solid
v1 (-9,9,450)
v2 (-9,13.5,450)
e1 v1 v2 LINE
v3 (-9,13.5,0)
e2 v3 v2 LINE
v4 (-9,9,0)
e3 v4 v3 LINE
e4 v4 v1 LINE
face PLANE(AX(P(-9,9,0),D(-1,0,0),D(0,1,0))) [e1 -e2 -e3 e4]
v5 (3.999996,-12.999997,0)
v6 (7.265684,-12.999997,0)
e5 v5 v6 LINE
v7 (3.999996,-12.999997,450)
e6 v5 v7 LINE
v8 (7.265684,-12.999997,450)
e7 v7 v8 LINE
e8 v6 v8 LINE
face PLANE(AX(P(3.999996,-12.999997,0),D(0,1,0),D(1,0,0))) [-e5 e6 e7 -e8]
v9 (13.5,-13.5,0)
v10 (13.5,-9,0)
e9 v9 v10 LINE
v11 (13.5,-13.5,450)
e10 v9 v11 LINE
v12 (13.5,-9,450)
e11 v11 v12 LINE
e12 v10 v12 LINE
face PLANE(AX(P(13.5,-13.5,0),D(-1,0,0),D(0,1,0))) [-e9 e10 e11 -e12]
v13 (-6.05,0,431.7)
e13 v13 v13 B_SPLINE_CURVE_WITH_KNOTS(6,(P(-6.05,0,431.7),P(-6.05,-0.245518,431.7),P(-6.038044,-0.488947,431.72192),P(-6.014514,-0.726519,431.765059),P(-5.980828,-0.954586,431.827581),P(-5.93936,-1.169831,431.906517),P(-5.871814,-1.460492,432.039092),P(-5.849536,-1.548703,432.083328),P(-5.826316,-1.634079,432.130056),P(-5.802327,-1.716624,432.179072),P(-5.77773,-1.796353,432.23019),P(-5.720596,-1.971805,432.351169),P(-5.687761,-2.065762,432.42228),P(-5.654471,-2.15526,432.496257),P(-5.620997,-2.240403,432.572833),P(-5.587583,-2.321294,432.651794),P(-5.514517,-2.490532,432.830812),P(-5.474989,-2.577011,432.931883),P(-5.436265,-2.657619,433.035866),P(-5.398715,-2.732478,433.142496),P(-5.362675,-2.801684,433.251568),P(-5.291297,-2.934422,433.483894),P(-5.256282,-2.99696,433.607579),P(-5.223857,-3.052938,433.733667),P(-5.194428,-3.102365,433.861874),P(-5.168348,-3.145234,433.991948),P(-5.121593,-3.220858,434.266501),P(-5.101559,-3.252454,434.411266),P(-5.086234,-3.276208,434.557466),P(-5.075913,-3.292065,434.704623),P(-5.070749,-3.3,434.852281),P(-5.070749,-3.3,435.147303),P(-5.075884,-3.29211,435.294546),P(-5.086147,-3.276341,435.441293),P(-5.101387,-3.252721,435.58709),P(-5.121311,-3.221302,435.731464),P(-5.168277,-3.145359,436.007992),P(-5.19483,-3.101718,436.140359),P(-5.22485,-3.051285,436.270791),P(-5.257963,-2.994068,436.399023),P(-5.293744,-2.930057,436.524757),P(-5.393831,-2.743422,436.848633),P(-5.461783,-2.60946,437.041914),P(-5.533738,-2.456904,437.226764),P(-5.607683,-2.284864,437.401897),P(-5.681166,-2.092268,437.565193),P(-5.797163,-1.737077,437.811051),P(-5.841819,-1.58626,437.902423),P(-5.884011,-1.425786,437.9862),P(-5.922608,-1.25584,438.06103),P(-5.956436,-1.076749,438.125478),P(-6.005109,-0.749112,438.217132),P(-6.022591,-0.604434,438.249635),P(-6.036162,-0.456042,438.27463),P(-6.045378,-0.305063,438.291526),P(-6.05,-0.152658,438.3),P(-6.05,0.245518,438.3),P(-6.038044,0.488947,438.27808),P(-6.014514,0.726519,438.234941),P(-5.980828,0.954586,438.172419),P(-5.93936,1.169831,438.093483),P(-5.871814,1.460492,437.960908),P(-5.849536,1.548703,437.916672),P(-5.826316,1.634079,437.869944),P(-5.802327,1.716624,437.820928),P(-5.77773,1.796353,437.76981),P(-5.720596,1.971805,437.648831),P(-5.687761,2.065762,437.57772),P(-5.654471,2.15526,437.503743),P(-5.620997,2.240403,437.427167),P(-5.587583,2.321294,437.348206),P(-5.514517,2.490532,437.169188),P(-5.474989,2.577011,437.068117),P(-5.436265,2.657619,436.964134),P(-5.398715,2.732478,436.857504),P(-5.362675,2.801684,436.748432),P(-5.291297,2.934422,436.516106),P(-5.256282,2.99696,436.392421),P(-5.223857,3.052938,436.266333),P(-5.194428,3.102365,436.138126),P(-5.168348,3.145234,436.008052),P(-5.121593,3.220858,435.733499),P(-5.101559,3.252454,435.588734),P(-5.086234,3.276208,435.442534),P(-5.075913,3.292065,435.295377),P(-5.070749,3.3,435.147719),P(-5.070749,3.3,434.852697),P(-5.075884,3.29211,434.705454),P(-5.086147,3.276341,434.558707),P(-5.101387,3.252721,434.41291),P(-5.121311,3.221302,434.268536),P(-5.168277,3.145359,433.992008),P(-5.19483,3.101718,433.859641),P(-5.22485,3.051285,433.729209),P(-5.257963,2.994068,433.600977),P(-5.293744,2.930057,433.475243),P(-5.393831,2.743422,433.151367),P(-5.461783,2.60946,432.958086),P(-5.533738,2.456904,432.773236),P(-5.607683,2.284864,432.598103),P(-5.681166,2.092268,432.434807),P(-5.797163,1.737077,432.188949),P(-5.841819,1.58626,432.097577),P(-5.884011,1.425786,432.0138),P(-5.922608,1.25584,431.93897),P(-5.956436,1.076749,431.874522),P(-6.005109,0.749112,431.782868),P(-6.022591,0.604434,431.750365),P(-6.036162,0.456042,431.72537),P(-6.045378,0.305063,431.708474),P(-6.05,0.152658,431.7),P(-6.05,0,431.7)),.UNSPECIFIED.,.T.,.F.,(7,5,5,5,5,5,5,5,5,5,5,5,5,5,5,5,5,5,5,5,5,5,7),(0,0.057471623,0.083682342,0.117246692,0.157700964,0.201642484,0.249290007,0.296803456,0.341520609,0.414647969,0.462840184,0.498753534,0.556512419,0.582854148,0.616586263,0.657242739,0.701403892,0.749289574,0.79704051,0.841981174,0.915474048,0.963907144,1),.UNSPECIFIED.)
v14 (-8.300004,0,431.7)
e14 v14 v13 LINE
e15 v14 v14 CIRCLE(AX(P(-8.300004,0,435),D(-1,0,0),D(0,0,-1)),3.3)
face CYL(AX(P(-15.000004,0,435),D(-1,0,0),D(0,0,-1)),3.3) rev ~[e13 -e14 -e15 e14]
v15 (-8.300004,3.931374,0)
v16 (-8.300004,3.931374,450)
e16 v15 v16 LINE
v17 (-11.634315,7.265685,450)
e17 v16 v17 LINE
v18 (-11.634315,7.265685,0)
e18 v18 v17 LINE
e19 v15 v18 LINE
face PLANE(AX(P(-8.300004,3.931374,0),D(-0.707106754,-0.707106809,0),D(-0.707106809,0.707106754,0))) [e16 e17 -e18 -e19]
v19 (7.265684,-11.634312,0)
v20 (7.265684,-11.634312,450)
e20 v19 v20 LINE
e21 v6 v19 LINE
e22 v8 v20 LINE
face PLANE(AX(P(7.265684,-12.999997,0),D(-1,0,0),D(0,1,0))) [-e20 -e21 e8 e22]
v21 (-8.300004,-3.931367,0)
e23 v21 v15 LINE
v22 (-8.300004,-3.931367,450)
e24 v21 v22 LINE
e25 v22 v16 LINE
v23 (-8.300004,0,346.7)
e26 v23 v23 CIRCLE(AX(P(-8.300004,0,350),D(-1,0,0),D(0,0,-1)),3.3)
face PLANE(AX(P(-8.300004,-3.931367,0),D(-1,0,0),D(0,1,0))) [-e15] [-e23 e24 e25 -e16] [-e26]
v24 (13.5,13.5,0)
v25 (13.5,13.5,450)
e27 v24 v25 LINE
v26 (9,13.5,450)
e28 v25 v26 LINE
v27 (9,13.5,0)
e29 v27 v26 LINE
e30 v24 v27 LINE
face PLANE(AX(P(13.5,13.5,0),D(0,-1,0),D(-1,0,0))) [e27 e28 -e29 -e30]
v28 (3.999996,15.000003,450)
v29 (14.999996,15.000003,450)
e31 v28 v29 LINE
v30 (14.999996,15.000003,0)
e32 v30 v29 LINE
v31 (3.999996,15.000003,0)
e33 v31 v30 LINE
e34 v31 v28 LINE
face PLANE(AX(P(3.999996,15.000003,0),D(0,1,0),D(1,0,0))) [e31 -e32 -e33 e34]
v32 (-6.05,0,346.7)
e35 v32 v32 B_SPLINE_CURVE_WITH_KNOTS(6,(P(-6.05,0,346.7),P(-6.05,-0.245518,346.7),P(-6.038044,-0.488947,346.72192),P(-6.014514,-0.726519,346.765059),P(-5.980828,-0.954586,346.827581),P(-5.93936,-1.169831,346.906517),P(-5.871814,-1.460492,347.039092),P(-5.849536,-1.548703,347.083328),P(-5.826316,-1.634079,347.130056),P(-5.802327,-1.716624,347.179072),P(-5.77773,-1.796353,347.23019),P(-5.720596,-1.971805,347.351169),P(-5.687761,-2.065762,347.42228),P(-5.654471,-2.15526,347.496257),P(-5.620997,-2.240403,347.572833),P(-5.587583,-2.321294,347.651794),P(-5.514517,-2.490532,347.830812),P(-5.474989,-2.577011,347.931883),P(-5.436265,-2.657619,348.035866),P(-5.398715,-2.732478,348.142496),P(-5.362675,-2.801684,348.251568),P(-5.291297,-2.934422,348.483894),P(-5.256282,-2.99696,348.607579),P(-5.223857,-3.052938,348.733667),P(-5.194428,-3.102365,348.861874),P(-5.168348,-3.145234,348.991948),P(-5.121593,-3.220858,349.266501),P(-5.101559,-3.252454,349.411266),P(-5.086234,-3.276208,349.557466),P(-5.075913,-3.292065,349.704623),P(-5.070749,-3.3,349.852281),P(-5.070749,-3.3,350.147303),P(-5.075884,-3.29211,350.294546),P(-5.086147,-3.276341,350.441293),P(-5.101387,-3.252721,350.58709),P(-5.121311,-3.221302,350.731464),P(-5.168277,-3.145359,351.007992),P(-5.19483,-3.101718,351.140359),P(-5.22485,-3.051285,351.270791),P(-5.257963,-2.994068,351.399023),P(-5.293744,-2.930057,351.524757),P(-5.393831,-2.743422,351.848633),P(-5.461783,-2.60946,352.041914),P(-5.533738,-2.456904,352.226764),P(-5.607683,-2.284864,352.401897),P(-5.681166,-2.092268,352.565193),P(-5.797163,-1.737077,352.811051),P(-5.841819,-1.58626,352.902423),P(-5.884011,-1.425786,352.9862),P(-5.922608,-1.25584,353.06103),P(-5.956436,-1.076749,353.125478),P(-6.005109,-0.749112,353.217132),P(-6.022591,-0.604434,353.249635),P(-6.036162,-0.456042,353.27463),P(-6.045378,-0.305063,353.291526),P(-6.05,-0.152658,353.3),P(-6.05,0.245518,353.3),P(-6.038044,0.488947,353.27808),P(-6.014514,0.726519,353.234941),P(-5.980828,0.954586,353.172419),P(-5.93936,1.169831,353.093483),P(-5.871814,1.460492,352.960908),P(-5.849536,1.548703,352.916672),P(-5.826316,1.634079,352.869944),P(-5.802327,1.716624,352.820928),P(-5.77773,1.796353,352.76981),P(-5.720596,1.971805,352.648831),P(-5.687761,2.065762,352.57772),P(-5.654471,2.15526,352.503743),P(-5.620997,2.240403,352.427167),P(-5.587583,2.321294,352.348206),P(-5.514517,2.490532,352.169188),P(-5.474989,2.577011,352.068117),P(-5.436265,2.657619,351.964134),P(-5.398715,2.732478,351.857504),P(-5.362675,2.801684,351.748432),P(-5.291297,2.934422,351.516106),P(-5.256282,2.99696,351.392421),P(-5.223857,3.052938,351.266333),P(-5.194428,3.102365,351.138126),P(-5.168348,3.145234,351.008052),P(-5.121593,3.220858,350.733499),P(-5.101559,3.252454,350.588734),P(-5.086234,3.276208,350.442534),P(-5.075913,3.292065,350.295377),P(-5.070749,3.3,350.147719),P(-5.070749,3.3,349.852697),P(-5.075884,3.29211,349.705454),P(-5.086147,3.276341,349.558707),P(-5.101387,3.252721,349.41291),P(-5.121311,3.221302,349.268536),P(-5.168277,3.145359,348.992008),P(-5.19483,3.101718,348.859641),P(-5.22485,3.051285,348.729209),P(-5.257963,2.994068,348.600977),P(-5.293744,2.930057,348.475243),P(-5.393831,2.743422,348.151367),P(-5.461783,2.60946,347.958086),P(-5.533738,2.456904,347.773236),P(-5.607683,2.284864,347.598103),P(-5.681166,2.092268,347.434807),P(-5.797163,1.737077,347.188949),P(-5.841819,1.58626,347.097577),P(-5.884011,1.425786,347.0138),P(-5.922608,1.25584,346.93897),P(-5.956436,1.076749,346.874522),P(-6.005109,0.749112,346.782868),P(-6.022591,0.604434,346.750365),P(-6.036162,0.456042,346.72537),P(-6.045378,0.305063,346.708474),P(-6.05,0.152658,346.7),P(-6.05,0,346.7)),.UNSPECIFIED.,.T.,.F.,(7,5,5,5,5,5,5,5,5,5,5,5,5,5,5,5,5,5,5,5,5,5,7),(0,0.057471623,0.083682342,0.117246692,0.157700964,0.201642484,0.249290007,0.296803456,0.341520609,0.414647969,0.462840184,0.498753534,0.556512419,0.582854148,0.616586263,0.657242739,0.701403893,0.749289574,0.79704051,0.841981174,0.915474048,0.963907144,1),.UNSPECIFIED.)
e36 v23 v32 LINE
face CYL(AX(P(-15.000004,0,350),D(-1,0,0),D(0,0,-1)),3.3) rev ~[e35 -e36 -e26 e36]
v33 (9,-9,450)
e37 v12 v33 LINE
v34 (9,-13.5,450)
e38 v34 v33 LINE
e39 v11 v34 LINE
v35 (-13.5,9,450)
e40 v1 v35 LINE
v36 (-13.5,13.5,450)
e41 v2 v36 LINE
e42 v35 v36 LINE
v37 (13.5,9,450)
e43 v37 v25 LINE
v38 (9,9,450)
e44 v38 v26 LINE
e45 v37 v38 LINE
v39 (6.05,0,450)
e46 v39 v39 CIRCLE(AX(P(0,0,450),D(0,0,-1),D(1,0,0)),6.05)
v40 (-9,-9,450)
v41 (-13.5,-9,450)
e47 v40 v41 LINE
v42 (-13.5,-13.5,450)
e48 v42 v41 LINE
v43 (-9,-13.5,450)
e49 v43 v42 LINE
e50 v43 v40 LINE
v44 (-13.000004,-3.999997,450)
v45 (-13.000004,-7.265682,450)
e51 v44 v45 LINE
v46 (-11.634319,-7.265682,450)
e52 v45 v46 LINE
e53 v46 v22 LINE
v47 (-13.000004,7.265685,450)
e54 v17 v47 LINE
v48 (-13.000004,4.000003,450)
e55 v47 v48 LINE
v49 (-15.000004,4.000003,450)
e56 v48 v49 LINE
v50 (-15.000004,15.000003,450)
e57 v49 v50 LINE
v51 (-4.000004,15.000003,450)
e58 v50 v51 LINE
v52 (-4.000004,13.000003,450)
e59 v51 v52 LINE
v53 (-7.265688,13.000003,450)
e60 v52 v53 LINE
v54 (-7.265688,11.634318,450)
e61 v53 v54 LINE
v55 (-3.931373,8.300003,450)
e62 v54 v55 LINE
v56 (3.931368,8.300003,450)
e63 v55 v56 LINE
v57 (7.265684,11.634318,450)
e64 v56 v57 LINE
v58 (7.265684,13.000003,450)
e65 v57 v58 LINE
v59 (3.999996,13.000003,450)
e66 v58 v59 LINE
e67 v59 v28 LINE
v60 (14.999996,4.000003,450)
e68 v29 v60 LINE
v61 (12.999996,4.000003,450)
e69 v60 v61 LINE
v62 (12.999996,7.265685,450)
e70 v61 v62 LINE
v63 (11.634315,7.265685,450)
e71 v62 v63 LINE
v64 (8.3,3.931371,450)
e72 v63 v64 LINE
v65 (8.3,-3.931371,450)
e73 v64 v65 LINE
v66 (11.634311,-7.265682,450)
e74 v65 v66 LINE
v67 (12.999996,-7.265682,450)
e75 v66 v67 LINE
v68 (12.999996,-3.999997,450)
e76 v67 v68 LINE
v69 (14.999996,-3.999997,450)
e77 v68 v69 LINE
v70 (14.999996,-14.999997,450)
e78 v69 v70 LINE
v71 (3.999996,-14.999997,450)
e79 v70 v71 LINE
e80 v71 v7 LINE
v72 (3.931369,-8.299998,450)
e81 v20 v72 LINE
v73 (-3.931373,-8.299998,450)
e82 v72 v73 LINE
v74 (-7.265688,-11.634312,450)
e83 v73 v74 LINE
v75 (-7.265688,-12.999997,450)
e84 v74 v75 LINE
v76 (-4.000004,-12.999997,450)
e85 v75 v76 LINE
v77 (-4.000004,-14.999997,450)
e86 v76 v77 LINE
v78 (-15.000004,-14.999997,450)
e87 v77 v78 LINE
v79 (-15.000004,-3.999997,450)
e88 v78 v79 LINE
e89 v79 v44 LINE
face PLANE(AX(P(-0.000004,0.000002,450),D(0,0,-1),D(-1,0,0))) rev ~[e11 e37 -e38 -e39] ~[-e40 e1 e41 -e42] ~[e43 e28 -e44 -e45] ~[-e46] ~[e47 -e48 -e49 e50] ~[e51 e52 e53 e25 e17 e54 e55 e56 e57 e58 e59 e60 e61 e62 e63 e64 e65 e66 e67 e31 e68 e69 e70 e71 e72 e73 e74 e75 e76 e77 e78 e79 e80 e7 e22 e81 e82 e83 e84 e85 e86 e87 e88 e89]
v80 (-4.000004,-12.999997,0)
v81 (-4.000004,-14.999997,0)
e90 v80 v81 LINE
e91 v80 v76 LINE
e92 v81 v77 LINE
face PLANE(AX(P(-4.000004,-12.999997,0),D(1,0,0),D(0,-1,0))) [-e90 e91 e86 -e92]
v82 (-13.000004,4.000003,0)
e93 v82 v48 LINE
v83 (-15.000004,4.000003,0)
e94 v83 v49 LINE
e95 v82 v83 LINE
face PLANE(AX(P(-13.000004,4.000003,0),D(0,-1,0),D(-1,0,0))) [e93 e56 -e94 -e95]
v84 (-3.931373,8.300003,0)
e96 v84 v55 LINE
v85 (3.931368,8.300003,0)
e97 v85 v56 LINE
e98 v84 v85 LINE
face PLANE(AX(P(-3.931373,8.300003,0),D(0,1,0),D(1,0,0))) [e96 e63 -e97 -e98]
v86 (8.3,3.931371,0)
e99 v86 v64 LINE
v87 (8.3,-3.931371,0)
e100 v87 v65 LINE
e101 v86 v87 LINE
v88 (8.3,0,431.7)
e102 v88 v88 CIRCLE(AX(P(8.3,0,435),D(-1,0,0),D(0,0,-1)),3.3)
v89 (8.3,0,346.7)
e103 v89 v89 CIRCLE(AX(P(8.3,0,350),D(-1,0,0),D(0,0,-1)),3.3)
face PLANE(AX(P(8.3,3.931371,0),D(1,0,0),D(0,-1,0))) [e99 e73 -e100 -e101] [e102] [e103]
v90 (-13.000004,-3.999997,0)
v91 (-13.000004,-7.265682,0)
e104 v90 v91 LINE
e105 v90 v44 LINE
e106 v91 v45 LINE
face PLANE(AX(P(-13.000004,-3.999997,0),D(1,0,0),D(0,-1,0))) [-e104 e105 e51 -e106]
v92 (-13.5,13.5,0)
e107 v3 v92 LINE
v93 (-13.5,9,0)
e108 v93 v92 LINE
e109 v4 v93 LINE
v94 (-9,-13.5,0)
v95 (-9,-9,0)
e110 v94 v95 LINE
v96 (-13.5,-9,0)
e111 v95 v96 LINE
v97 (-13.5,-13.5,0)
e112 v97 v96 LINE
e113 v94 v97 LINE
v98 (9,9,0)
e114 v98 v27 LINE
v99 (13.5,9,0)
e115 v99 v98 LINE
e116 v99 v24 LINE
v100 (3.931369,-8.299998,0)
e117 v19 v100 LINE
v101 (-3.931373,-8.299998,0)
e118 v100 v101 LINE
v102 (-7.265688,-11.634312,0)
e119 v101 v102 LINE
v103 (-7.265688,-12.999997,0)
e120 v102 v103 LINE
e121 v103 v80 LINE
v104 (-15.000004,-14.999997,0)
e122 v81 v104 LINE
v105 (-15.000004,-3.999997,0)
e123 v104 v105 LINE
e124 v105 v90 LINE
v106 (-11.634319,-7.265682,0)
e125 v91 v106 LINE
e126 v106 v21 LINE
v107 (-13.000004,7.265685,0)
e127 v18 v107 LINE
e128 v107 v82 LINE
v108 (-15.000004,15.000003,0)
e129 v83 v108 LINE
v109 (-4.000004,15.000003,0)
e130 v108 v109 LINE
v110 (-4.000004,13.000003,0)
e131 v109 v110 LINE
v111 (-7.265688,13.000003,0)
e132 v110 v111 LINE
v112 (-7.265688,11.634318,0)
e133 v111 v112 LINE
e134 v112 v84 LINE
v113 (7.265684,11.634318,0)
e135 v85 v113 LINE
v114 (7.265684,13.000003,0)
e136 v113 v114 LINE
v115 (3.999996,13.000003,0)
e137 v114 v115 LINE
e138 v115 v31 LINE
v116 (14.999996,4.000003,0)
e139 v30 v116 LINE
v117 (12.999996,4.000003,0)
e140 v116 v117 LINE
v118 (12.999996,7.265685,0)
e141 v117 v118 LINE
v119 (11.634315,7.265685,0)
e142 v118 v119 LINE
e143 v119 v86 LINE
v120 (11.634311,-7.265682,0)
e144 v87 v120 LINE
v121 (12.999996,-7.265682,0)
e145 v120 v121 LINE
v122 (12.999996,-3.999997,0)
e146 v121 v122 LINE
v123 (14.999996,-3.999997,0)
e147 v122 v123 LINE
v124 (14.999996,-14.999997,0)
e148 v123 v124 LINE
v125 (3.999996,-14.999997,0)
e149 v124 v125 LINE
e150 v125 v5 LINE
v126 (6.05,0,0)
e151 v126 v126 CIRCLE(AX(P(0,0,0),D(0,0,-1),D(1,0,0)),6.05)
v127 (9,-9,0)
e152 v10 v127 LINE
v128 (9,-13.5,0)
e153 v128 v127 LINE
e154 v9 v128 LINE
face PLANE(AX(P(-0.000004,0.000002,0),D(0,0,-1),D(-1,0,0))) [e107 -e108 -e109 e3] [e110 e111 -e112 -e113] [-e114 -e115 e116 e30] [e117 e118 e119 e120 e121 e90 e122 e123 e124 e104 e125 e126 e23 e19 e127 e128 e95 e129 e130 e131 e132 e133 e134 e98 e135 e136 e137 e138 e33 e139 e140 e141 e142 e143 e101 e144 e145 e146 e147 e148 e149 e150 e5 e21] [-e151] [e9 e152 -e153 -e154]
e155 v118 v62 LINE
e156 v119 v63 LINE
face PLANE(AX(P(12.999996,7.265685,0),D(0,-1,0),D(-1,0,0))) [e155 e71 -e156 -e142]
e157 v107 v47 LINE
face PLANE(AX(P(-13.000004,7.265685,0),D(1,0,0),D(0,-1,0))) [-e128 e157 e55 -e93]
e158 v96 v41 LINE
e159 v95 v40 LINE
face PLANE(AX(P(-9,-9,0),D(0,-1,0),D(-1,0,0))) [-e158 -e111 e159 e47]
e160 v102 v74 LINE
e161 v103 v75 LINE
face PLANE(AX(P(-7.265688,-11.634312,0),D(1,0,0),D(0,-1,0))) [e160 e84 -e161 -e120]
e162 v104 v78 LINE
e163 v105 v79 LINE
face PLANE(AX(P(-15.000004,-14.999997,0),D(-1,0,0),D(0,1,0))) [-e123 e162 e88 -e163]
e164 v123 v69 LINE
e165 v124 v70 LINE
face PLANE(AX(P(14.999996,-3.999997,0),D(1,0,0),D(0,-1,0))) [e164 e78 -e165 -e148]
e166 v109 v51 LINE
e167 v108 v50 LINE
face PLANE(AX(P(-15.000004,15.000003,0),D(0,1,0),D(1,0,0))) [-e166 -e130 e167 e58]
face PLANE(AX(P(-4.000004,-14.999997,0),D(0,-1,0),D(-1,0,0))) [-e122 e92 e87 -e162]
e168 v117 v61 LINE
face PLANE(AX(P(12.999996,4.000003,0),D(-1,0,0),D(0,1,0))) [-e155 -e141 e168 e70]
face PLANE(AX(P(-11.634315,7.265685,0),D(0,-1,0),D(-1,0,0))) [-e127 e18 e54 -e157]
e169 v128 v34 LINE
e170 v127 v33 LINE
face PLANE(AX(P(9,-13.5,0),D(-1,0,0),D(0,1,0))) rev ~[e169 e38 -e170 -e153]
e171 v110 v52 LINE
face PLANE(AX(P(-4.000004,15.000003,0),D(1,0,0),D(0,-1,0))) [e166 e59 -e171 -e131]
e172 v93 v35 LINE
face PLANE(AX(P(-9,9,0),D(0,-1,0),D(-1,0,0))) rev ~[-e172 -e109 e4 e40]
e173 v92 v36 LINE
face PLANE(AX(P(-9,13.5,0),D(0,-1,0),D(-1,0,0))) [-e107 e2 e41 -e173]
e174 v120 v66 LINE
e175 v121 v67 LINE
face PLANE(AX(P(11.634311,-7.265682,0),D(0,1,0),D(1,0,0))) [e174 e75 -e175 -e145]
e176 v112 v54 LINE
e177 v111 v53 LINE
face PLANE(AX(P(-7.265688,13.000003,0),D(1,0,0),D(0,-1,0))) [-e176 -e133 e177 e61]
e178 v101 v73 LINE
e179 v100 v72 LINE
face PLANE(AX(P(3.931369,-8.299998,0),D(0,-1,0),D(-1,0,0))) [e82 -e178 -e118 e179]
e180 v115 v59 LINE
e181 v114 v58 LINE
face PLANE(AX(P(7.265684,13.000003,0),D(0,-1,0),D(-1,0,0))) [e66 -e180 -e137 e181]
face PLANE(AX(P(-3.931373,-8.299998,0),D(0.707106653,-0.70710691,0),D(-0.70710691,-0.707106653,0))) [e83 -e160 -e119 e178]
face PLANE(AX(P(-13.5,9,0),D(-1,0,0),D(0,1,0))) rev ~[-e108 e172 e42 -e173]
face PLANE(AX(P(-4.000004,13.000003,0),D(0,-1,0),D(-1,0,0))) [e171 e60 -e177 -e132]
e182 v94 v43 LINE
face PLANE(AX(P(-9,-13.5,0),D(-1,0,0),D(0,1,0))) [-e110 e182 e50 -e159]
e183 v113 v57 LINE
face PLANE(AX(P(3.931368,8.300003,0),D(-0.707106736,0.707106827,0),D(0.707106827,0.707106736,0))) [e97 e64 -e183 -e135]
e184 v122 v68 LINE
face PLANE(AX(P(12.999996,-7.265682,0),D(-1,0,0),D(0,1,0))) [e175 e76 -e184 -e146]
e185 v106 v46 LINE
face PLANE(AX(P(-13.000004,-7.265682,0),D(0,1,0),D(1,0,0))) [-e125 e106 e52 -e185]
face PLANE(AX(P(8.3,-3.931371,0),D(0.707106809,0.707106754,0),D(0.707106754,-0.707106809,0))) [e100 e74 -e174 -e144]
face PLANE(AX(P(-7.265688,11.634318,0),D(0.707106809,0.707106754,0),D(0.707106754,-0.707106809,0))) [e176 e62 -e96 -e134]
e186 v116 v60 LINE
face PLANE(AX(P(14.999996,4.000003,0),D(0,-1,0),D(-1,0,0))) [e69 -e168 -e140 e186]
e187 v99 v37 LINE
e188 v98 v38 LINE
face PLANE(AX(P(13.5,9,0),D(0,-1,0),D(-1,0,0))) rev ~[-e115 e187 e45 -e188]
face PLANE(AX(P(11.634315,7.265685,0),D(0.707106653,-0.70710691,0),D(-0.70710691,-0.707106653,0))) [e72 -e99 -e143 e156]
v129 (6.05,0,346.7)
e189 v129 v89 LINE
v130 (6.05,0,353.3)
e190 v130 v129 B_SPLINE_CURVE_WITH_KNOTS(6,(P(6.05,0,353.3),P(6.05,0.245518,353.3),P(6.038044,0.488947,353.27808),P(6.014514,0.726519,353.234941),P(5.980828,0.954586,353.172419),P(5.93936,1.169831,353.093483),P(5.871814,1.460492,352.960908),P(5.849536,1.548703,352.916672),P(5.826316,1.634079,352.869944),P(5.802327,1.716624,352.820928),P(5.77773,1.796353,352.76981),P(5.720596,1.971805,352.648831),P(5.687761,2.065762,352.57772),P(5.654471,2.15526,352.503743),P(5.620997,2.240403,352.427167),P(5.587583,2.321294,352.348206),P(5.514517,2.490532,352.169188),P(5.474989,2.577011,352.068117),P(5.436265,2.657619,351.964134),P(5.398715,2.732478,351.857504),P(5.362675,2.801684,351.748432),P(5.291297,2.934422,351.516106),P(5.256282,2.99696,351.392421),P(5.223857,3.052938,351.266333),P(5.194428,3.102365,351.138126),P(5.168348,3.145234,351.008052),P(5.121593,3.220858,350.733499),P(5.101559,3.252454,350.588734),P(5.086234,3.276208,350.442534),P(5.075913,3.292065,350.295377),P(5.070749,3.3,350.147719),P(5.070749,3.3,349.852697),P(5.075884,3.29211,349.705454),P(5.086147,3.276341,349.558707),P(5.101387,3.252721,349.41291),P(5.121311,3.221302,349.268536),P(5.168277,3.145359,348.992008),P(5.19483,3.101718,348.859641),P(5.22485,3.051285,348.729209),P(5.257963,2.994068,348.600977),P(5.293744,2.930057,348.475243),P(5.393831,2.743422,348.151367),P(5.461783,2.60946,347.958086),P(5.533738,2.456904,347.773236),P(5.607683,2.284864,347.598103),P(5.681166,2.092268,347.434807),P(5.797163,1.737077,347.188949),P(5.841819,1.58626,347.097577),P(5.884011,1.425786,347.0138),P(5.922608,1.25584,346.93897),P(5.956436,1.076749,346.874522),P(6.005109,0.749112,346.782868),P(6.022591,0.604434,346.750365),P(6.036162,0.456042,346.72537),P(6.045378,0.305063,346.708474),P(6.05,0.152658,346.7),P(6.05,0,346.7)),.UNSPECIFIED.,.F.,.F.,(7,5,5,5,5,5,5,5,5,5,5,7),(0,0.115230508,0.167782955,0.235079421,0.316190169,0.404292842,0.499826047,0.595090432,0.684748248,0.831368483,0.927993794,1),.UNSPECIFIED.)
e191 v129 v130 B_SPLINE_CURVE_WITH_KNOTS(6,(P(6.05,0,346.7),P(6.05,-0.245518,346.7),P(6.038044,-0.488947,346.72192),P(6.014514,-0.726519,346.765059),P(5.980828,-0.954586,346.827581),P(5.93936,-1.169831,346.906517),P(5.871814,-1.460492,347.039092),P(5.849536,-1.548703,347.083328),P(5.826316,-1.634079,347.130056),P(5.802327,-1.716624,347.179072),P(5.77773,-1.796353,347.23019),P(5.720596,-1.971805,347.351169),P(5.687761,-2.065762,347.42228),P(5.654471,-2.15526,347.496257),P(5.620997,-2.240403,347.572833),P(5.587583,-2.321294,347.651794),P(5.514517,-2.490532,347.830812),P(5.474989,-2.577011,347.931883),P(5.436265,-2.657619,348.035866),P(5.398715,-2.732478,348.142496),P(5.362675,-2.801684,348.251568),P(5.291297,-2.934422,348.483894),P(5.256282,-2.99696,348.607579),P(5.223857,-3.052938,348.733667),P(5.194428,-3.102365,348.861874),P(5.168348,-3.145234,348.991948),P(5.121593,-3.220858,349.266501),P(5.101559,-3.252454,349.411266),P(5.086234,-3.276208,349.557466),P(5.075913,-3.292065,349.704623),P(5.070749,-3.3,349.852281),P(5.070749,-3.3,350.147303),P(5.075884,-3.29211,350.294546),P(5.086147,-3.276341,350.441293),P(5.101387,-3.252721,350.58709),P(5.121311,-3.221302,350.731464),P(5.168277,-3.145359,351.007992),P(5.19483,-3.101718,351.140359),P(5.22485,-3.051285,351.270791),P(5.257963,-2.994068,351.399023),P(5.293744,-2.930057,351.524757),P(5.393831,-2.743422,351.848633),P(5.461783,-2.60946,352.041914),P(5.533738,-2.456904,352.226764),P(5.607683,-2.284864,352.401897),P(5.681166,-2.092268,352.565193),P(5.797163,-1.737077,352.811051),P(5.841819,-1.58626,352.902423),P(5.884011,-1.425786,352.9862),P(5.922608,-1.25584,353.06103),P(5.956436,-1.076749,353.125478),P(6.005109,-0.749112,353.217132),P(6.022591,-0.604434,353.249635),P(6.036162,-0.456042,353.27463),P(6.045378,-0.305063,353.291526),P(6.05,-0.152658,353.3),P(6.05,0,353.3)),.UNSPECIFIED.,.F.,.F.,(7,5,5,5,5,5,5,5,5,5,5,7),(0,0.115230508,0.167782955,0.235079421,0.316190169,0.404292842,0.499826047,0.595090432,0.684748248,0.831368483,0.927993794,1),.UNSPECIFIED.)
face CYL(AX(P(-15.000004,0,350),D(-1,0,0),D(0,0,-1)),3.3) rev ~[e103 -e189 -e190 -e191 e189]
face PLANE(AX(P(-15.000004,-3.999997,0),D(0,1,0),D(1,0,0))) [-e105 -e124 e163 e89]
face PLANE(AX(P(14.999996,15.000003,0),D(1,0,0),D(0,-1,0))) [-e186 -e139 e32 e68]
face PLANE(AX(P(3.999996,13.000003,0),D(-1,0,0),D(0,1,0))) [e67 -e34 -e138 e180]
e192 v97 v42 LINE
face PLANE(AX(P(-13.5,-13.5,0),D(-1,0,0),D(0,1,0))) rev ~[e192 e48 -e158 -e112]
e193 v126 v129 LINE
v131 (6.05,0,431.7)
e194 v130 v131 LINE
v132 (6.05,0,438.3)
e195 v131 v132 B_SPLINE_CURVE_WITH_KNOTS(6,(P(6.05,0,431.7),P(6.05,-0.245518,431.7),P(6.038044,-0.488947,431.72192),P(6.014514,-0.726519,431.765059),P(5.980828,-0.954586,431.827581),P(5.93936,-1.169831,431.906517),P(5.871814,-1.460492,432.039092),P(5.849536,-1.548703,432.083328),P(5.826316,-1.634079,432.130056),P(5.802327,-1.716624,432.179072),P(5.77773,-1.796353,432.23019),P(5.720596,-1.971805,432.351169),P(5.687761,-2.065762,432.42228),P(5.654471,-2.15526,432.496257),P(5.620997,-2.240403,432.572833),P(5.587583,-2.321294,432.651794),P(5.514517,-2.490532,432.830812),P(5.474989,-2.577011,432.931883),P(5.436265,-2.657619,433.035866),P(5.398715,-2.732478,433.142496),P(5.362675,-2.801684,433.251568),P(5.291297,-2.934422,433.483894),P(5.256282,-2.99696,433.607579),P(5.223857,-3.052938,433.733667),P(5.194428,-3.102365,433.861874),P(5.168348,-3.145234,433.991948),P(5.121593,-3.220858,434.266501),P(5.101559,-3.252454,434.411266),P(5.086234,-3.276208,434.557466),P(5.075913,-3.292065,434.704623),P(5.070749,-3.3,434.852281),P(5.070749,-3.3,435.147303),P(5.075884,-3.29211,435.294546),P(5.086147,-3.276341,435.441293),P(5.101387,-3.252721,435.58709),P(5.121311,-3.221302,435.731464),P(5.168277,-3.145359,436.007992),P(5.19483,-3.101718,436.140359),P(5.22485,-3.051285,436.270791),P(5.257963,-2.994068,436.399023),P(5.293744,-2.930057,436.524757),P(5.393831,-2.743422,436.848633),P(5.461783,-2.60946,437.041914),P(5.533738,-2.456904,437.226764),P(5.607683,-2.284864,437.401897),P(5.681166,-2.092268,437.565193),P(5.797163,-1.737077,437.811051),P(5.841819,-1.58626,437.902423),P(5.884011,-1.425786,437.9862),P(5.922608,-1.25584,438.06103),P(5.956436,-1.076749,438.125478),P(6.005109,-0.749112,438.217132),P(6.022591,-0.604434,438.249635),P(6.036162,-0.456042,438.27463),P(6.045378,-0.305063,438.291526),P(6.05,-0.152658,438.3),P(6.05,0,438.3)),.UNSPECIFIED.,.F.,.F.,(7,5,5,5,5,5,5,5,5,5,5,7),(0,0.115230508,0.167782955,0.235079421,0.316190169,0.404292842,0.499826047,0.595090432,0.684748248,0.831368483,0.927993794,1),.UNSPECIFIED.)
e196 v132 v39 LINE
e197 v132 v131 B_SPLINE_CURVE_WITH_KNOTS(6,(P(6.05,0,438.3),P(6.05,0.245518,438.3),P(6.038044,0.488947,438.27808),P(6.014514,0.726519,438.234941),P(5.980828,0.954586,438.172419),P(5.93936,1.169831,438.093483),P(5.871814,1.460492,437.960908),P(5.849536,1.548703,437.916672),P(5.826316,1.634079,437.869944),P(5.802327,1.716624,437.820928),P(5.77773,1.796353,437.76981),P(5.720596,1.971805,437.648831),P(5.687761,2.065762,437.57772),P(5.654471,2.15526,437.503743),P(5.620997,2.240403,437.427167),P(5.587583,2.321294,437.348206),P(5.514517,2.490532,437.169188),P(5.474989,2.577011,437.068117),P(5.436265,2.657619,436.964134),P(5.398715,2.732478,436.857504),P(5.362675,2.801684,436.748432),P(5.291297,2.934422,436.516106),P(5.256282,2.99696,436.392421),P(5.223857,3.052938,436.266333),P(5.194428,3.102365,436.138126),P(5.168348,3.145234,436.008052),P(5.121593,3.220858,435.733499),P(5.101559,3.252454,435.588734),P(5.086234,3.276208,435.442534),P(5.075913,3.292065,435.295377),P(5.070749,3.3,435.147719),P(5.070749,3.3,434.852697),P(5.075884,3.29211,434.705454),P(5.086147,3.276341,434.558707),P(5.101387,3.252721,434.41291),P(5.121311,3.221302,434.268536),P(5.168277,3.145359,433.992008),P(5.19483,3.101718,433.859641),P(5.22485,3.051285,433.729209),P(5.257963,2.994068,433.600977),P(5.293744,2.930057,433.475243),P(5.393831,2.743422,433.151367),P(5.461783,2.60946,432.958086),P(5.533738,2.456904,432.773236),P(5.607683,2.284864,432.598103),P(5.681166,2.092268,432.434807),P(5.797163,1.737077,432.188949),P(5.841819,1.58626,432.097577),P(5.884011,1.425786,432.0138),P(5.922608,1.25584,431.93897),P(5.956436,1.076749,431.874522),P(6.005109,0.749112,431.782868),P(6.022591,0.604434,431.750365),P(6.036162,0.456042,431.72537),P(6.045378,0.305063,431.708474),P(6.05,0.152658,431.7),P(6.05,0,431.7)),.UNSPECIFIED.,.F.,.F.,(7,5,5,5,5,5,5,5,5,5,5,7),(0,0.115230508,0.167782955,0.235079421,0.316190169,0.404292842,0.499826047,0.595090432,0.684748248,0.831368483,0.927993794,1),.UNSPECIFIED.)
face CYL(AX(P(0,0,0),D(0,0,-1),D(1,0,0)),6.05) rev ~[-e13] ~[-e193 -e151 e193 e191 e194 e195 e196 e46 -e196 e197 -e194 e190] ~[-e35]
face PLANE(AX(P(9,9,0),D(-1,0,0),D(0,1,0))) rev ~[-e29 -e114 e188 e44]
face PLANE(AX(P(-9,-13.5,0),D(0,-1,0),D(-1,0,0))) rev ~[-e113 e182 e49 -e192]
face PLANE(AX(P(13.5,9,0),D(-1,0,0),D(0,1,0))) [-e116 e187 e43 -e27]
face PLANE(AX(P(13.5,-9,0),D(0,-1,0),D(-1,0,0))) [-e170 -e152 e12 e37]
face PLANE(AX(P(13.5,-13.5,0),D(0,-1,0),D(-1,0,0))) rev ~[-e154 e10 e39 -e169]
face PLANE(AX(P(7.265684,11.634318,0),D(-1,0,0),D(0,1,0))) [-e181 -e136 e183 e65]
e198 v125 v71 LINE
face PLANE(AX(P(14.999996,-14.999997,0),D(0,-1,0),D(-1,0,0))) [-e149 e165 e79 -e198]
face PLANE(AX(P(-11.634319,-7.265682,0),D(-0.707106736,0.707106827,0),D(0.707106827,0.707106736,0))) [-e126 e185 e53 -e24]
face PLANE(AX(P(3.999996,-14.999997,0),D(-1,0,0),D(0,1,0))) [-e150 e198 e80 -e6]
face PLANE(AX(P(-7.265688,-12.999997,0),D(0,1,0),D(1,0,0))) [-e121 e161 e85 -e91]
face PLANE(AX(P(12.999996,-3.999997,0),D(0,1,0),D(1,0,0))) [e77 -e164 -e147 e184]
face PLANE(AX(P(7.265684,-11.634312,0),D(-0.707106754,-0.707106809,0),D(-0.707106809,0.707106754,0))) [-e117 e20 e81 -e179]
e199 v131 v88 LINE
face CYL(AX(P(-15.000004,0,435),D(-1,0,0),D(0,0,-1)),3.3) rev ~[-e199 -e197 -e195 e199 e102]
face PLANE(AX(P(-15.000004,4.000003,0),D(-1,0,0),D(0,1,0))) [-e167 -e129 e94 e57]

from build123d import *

# Parameters (mm, degrees)
SKIZZE1_R                       = 6.05
SKIZZE1_W                       = 4.5
SKIZZE1_H                       = 4.5
AUFSATZ_LINEAR_AUSTRAGEN1_DEPTH = 450
SKIZZE3_R                       = 3.3
SCHNITT_LINEAR_AUSTRAGEN2_DEPTH = 452.248268785


with BuildPart() as part:
    # Skizze1 → Aufsatz-Linear austragen1 (new body)
    with BuildSketch(Plane(origin=(0, 0, 0), x_dir=(-1, 0, 0), z_dir=(0, 0, -1))):
        Polygon((15.000004175, -14.999997298), (15.000004175, -3.999997298), (13.000004175, -3.999997298), (13.000004175, -7.265682298), (11.634319175, -7.265682298), (8.300003831, -3.931367382), (8.300003831, 3.931374091), (11.634315, 7.265685), (13.000004175, 7.265685), (13.000004175, 4.000002702), (15.000004175, 4.000002702), (15.000004175, 15.000002702), (4.000004175, 15.000002702), (4.000004175, 13.000002962), (7.265688438, 13.000002962), (7.265688438, 11.634318438), (3.931373306, 8.300003046), (-3.931368167, 8.300003046), (-7.265683511, 11.634317962), (-7.265683511, 13.000002962), (-3.999995825, 13.000002962), (-3.999995825, 15.000002702), (-14.999995825, 15.000002702), (-14.999995825, 4.000002702), (-12.999995825, 4.000002702), (-12.999995825, 7.265685), (-11.634315, 7.265685), (-8.3, 3.931371213), (-8.3, -3.931371213), (-11.634310825, -7.265682298), (-12.999995825, -7.265682298), (-12.999995825, -3.999997298), (-14.999995825, -3.999997298), (-14.999995825, -14.999997298), (-3.999995825, -14.999997298), (-3.999995825, -12.999997038), (-7.265683511, -12.999997038), (-7.265683511, -11.634312038), (-3.931368988, -8.299997775), (3.931373438, -8.299997775), (7.265688438, -11.634311562), (7.265688438, -12.999997038), (4.000004175, -12.999997038), (4.000004175, -14.999997298), align=None)
        with Locations(Location((0, 0, 0), (0, 0, 180))):
            Circle(SKIZZE1_R, mode=Mode.SUBTRACT)
        with Locations((11.25, 11.25)):
            Rectangle(SKIZZE1_W, SKIZZE1_H, mode=Mode.SUBTRACT)
        with Locations((11.25, -11.25)):
            Rectangle(SKIZZE1_W, SKIZZE1_H, mode=Mode.SUBTRACT)
        with Locations((-11.25, -11.25)):
            Rectangle(SKIZZE1_W, SKIZZE1_H, mode=Mode.SUBTRACT)
        with Locations((-11.25, 11.25)):
            Rectangle(SKIZZE1_W, SKIZZE1_H, mode=Mode.SUBTRACT)
    extrude(amount=-AUFSATZ_LINEAR_AUSTRAGEN1_DEPTH)

    # Skizze3 → Schnitt-Linear austragen2 (cut, through all)
    with BuildSketch(Plane.ZY.offset(15.000004175)):
        with Locations(Location((435, 0, 0), (0, 0, 180))):
            Circle(SKIZZE3_R)
        with Locations(Location((350, 0, 0), (0, 0, 180))):
            Circle(SKIZZE3_R)
    extrude(amount=-SCHNITT_LINEAR_AUSTRAGEN2_DEPTH, mode=Mode.SUBTRACT)


solid = part.part
